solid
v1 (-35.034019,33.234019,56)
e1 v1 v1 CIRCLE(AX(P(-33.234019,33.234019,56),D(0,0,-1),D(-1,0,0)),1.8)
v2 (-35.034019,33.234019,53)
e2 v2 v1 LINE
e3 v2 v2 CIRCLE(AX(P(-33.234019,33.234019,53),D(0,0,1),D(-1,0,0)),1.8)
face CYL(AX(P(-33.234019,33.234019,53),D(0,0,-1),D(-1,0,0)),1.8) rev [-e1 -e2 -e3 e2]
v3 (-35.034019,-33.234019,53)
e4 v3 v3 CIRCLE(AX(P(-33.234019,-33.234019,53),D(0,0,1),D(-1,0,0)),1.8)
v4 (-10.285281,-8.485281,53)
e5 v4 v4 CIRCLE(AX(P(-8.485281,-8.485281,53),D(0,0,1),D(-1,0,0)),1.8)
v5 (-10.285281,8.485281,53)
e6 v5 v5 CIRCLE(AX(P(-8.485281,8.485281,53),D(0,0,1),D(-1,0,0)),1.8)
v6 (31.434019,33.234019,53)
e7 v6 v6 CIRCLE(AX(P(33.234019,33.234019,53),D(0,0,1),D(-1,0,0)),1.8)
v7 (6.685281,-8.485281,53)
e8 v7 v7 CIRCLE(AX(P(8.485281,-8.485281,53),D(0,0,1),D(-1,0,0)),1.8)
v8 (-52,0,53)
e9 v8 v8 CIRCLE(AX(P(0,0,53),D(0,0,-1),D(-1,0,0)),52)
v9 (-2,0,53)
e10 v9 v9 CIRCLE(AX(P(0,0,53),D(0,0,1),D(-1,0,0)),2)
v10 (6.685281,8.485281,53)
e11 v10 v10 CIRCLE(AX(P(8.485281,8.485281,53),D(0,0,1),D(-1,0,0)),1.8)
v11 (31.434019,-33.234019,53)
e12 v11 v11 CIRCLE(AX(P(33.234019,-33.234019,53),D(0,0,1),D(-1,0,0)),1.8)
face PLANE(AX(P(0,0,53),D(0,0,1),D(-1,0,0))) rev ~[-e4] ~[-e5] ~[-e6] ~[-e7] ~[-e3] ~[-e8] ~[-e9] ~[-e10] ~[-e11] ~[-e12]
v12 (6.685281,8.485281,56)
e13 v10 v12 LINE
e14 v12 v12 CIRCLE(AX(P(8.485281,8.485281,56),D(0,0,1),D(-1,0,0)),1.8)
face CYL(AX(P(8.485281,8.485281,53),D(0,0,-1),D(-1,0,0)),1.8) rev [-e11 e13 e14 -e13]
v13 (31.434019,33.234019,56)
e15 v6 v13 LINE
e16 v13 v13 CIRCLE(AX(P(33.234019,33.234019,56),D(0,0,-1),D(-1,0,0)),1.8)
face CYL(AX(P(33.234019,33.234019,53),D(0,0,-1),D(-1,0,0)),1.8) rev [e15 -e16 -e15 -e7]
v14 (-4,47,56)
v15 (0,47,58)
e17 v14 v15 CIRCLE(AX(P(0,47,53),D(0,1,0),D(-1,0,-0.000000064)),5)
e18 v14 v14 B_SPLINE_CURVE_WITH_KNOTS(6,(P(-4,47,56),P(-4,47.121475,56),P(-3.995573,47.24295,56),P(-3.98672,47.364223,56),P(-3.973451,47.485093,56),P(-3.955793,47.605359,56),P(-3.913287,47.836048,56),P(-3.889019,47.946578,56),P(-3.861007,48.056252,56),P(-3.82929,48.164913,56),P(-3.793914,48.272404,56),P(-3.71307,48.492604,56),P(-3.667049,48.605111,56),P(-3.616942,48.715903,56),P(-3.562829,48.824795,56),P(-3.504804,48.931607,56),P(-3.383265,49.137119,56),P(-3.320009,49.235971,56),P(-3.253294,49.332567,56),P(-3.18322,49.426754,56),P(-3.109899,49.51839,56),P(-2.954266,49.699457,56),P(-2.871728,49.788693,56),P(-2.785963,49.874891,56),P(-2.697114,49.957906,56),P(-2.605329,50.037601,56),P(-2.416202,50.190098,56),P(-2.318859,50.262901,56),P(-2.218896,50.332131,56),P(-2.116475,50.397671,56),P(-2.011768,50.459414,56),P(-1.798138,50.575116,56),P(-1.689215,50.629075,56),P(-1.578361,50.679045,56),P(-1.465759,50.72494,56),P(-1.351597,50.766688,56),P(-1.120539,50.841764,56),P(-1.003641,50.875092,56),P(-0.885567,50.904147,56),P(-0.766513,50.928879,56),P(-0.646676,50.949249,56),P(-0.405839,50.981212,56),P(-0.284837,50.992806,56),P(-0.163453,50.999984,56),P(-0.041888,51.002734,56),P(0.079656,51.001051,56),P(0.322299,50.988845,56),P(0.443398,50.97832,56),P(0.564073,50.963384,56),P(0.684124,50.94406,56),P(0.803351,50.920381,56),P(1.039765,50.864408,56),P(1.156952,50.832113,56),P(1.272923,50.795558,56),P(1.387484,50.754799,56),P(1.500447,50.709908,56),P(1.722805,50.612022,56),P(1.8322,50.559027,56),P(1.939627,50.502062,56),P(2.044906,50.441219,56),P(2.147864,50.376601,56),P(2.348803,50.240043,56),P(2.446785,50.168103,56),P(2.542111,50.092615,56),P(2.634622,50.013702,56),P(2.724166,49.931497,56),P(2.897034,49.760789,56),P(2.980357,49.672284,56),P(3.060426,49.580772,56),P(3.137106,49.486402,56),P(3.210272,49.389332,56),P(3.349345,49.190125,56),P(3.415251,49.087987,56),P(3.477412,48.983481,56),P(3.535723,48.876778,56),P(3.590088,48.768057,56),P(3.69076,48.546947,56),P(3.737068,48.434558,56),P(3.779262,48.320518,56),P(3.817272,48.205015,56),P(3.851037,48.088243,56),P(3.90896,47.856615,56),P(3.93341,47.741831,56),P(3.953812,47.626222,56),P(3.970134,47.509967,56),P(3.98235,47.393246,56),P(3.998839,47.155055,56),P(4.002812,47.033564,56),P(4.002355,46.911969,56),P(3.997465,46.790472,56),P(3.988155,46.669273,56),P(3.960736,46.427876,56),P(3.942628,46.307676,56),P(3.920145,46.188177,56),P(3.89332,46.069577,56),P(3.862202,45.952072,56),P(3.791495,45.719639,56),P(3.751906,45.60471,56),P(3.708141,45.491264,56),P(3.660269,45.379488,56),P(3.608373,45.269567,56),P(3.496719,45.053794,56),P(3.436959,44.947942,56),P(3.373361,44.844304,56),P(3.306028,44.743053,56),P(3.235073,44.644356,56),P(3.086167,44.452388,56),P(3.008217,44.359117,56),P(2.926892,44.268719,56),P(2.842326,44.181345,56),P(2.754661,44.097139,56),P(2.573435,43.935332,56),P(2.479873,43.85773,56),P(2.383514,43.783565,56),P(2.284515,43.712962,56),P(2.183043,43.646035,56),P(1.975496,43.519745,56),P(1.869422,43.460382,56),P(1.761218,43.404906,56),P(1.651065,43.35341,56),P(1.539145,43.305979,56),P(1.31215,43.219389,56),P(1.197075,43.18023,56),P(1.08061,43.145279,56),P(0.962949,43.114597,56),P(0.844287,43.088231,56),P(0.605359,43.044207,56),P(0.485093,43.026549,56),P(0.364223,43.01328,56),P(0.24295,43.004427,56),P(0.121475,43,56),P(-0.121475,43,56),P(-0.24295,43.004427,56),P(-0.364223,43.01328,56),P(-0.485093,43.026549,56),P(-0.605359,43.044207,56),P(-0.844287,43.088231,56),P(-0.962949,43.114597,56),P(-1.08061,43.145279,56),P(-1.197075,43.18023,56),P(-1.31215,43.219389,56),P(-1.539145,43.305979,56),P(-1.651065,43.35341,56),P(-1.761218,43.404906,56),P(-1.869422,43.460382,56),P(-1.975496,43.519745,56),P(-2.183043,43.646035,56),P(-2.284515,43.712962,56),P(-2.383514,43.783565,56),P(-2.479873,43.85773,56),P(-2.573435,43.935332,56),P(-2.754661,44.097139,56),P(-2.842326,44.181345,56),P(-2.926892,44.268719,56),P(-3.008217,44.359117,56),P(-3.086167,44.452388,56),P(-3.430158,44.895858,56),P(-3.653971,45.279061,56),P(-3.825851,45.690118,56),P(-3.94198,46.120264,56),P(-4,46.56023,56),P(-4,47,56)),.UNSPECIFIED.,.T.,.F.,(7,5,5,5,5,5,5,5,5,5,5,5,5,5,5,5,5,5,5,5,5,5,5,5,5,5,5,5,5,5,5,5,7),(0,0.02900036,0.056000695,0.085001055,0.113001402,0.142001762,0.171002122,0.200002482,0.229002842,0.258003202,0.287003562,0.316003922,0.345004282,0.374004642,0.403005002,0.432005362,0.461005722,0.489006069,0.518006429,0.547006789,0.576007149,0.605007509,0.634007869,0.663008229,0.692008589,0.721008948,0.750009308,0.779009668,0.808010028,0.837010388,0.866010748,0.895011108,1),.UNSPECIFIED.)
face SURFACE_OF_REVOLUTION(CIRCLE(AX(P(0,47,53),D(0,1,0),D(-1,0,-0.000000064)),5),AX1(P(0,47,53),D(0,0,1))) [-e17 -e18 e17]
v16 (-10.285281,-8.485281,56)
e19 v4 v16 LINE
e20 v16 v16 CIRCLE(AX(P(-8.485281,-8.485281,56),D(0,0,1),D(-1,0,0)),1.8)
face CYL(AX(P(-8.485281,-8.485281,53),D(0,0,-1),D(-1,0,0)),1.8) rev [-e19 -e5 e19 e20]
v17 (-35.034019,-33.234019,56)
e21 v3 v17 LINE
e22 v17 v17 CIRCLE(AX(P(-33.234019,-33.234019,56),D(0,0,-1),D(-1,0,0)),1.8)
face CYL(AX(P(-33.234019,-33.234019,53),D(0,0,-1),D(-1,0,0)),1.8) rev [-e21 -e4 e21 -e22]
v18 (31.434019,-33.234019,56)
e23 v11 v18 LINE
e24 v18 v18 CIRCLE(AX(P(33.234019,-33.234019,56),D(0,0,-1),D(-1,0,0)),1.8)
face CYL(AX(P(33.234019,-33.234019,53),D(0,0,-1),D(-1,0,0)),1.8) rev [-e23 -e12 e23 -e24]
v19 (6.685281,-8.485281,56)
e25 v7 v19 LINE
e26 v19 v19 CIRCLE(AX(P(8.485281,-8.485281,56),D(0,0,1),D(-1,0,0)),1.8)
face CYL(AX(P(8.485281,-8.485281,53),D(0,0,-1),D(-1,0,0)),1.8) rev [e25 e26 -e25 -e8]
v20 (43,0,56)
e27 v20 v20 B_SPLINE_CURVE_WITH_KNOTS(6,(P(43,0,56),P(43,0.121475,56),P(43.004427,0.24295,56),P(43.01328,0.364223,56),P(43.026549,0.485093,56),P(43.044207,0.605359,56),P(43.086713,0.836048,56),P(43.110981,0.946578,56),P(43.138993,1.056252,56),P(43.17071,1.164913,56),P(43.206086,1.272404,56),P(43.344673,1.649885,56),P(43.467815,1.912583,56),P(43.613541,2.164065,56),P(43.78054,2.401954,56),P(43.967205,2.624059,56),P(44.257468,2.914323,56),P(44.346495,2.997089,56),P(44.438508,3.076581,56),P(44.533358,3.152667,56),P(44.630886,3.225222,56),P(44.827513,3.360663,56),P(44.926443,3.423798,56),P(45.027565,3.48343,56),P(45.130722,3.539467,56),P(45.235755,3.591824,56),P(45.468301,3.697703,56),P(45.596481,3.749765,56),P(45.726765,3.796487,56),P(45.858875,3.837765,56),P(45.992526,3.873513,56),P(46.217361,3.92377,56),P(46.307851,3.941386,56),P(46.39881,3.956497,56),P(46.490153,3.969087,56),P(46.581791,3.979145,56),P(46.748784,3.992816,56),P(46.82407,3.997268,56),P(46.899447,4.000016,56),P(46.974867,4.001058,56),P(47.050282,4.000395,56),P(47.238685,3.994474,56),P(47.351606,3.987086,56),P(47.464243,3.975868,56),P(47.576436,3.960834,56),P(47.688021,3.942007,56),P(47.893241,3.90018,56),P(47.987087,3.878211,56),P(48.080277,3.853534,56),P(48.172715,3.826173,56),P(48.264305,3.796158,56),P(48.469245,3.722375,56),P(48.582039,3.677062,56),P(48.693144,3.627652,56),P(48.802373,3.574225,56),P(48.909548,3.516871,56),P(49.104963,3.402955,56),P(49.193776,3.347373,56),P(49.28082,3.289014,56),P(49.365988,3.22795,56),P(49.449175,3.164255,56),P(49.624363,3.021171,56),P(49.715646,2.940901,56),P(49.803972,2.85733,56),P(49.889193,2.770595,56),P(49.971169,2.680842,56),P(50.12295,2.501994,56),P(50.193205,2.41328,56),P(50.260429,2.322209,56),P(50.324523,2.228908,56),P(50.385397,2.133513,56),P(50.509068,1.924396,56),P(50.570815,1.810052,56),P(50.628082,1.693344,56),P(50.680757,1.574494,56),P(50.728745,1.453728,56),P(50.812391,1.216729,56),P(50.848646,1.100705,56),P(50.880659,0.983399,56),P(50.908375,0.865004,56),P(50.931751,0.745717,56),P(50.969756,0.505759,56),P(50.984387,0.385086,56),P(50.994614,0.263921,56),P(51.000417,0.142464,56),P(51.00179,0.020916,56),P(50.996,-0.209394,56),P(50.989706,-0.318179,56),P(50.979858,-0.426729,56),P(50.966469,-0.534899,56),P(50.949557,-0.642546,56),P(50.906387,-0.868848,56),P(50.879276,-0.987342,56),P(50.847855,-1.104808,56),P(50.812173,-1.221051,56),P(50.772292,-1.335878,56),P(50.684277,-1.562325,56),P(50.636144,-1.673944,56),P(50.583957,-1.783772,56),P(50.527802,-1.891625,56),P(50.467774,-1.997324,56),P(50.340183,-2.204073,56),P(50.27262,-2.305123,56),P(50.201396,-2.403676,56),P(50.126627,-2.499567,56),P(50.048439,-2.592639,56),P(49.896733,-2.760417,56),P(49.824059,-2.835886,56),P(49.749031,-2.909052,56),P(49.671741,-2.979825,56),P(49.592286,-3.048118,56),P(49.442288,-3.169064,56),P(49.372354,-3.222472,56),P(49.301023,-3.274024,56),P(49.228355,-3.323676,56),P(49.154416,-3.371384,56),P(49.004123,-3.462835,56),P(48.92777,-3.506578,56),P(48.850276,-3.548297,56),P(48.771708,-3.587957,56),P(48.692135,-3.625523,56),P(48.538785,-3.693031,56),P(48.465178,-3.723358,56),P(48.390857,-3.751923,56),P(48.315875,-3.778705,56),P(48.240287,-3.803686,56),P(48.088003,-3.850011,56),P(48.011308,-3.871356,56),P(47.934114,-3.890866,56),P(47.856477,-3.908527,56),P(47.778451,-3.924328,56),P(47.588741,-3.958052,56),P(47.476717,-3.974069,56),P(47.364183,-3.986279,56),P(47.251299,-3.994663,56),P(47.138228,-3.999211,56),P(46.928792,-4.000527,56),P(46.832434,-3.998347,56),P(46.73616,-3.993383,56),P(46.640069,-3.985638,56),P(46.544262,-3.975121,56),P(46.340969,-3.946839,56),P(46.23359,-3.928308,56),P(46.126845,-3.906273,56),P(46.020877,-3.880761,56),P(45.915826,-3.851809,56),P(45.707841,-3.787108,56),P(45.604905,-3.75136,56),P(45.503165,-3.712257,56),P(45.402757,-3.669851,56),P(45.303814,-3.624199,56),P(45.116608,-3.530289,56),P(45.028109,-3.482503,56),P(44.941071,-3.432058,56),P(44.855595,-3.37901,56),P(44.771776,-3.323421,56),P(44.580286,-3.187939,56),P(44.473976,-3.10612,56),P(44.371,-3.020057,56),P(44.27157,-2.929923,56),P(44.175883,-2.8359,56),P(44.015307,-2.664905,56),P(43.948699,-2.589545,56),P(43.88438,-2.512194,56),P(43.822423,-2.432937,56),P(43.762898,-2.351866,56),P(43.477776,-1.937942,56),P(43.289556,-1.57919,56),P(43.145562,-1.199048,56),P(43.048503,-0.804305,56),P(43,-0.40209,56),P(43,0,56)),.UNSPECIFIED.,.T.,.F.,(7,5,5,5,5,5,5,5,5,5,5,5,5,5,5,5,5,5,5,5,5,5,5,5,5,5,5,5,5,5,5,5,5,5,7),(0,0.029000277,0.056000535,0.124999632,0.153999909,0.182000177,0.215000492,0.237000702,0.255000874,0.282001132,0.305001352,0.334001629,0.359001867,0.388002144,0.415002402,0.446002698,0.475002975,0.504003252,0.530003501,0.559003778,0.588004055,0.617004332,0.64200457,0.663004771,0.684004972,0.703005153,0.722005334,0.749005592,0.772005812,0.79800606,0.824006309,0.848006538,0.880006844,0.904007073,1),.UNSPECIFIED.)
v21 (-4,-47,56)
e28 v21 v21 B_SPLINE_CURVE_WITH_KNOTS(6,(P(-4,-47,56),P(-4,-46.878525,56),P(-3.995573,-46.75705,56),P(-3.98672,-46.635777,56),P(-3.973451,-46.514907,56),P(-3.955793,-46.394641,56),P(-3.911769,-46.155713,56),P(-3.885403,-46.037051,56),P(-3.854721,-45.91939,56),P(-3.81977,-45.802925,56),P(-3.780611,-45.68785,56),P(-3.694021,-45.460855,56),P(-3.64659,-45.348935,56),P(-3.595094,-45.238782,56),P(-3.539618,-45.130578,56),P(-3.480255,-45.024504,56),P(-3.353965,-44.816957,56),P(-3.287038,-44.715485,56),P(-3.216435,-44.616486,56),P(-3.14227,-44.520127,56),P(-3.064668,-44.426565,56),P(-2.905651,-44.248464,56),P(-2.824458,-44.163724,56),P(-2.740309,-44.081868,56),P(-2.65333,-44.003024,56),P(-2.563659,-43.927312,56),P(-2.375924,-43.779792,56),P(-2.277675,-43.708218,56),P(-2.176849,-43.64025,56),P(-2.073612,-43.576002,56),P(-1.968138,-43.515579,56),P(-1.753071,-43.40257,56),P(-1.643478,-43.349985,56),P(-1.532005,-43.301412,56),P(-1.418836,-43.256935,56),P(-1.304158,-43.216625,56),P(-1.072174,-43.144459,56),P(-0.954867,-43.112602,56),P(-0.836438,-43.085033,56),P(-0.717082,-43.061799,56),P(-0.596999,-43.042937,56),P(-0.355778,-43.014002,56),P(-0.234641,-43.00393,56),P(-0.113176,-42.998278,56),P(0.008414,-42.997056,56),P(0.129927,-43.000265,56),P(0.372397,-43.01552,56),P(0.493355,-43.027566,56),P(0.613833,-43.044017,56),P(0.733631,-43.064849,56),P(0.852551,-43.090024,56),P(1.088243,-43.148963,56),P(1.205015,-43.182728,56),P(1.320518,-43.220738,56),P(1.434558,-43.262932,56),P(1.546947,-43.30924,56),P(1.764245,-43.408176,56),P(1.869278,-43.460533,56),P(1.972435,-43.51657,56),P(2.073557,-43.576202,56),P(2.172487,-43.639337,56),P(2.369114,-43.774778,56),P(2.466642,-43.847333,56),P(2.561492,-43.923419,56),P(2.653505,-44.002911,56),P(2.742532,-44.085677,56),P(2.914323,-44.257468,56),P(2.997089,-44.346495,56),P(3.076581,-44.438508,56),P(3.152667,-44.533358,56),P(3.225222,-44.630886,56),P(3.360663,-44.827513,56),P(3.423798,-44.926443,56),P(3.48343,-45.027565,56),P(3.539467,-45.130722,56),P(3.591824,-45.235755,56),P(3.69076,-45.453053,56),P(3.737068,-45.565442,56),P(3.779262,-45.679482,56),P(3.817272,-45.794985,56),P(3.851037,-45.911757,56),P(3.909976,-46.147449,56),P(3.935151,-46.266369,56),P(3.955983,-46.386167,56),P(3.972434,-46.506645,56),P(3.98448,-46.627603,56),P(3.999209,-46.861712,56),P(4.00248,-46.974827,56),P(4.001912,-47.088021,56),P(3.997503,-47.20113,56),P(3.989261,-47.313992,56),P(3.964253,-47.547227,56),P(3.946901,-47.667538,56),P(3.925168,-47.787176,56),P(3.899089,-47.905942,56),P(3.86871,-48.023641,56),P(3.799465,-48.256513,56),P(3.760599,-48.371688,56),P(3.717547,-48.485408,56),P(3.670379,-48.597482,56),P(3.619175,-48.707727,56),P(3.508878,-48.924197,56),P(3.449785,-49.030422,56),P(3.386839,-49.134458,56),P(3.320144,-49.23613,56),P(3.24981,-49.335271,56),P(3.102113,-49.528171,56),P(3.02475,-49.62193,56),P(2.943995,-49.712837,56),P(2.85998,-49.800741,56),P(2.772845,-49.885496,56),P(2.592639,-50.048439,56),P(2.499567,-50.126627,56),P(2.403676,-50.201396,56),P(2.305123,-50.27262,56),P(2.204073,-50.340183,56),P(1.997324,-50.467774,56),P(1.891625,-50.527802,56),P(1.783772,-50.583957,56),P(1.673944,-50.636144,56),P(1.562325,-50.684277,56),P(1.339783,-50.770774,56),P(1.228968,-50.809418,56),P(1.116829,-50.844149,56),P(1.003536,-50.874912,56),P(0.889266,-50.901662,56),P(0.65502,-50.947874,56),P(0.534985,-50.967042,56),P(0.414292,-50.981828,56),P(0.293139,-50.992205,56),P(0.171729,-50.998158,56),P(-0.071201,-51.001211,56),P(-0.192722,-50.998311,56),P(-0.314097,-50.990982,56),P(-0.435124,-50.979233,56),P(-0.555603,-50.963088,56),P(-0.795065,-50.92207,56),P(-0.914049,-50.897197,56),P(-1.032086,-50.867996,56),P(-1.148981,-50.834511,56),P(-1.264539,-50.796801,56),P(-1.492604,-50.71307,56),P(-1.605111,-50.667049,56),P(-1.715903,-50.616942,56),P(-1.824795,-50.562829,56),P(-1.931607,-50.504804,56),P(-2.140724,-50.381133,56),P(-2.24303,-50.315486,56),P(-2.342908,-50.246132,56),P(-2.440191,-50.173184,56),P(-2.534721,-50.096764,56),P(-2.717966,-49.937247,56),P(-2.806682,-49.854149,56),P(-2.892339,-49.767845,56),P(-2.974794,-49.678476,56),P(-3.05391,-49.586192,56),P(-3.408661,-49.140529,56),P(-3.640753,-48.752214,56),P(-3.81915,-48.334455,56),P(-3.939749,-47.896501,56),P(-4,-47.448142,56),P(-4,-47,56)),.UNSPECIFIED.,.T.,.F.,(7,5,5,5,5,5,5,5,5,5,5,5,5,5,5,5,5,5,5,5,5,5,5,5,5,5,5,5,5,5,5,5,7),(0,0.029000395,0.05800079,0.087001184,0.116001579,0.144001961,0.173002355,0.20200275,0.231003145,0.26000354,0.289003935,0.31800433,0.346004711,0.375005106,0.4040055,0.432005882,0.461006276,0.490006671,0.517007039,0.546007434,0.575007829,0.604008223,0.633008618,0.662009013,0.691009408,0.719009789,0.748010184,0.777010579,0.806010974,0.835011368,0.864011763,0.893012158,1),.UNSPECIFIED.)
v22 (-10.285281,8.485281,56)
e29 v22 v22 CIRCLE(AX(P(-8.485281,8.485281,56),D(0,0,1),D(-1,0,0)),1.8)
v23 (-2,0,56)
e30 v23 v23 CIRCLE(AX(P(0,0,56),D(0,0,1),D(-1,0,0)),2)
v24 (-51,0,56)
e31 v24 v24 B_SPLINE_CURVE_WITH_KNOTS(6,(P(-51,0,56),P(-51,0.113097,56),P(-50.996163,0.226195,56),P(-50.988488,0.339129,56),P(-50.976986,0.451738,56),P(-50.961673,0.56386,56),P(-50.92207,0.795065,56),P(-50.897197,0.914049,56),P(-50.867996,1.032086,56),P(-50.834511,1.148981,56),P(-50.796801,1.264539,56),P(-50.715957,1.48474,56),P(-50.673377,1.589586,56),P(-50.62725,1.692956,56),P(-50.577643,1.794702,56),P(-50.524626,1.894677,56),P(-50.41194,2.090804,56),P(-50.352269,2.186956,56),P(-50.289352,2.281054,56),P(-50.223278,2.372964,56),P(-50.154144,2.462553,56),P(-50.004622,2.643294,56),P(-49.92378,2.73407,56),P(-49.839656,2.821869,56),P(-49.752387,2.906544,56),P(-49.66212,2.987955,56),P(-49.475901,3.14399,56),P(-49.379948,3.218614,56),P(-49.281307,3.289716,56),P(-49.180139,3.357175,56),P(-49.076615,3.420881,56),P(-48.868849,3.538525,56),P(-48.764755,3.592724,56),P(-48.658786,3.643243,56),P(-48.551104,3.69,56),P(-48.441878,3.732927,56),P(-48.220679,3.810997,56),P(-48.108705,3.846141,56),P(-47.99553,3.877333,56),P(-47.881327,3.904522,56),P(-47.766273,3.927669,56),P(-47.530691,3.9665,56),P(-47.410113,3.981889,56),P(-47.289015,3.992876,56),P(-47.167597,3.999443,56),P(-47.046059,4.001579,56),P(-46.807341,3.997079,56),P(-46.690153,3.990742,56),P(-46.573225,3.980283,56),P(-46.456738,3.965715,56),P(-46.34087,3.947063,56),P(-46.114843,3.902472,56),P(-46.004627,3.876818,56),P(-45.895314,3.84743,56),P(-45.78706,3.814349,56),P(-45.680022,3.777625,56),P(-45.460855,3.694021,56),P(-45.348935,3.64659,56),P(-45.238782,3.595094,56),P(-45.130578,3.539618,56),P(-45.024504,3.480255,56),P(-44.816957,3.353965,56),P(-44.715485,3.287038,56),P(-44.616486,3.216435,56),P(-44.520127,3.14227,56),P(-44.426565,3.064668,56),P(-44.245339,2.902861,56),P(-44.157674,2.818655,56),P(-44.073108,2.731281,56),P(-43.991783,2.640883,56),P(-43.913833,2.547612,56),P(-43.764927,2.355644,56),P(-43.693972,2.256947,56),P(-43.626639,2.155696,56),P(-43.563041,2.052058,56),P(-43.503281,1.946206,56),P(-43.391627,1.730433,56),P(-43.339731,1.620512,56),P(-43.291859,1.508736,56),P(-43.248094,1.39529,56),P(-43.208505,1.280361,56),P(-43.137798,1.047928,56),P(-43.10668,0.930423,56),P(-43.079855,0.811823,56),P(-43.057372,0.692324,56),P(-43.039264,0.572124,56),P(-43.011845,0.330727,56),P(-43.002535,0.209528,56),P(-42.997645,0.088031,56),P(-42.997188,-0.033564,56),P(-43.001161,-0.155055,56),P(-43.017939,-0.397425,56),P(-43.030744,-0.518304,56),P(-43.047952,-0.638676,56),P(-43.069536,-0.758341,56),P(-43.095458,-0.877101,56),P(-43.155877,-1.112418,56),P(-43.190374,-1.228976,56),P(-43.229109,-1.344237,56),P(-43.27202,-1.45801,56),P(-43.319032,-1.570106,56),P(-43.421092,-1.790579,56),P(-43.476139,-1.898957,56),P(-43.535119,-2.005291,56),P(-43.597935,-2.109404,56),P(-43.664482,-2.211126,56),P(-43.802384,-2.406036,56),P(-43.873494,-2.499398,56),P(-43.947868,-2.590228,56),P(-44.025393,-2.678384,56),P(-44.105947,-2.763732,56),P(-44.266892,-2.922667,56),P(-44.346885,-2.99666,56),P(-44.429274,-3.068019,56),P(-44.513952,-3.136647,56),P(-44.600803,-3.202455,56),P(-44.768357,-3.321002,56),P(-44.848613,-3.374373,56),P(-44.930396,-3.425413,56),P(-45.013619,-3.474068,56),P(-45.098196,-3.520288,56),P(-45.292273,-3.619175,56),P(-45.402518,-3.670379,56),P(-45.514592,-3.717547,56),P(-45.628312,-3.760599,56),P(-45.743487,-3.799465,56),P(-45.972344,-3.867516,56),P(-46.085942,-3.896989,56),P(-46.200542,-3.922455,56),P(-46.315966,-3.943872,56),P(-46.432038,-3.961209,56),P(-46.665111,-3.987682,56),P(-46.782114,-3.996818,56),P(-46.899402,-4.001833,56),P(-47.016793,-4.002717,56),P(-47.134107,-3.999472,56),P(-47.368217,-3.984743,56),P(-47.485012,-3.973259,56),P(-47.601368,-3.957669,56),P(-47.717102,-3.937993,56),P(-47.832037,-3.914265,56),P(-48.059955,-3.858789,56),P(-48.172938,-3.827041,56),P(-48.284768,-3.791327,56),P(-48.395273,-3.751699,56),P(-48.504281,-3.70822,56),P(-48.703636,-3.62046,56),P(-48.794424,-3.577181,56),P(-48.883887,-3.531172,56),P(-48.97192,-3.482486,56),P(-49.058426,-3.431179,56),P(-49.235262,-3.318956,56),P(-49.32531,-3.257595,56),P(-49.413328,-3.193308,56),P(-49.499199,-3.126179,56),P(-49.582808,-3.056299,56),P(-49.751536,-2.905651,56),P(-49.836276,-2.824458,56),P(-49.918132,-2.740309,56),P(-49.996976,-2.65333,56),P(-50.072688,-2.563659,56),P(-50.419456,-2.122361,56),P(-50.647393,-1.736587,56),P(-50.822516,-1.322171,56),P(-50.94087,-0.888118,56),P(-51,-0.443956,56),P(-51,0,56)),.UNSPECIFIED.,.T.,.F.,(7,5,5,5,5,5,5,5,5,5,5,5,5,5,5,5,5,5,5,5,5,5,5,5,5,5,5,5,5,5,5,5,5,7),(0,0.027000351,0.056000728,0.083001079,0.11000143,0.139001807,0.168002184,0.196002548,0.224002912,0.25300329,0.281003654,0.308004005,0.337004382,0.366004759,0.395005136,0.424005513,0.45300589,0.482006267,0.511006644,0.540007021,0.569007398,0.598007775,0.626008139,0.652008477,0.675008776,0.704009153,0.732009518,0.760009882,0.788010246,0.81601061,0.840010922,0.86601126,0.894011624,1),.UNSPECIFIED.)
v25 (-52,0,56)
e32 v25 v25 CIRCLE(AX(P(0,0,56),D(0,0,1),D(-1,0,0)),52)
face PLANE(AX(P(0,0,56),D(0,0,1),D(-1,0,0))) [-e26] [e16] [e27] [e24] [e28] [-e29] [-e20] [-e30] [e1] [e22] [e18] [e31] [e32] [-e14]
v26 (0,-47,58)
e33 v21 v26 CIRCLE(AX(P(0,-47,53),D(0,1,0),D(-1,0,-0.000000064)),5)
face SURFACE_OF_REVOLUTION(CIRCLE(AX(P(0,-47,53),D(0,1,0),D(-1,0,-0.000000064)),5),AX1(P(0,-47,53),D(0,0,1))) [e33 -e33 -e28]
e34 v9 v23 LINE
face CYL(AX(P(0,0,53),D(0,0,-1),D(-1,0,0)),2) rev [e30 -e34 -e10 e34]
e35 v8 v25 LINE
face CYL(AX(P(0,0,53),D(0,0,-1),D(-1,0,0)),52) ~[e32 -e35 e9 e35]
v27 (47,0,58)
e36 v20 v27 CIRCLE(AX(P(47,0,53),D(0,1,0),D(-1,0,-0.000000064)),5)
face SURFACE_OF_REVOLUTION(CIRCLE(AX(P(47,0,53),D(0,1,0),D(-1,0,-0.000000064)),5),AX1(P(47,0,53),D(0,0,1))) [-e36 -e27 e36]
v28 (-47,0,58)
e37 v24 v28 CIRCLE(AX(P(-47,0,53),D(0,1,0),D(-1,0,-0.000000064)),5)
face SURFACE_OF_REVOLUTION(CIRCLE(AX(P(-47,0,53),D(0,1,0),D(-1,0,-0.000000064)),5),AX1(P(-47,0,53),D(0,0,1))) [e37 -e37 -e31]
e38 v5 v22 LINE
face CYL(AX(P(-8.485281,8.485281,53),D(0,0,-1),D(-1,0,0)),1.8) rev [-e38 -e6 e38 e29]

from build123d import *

# Parameters (mm, degrees)
SKETCH004_R             = 52
SKETCH004_R_2           = 2
SKETCH004_R_3           = 1.8
PAD003_DEPTH            = 3
SKETCH006_R             = 1.8
POCKET001_DEPTH         = 0.001
POCKET001_DEPTH_BACK    = 3.001
BODY002_PLACEMENT_ANGLE = 180


with BuildPart() as part:
    # Sketch004 → Pad003 (new body)
    with BuildSketch(Plane.XY):
        Circle(SKETCH004_R)
        Circle(SKETCH004_R_2, mode=Mode.SUBTRACT)
        with Locations((8.485281, 8.485281)):
            Circle(SKETCH004_R_3, mode=Mode.SUBTRACT)
        with Locations((-8.485281, 8.485281)):
            Circle(SKETCH004_R_3, mode=Mode.SUBTRACT)
        with Locations((-8.485281, -8.485281)):
            Circle(SKETCH004_R_3, mode=Mode.SUBTRACT)
        with Locations((8.485281, -8.485281)):
            Circle(SKETCH004_R_3, mode=Mode.SUBTRACT)
    extrude(amount=PAD003_DEPTH)

    # Sketch006 → Pocket001 (cut, two sides)
    with BuildSketch(Plane.XY) as pocket001_sk:
        with Locations((-33.234019, 33.234019)):
            Circle(SKETCH006_R)
        with Locations((-33.234019, -33.234019)):
            Circle(SKETCH006_R)
        with Locations((33.234019, -33.234019)):
            Circle(SKETCH006_R)
        with Locations((33.234019, 33.234019)):
            Circle(SKETCH006_R)
    extrude(amount=-POCKET001_DEPTH, mode=Mode.SUBTRACT)
    extrude(pocket001_sk.sketch, amount=POCKET001_DEPTH_BACK, mode=Mode.SUBTRACT)

    # Sphere → Sphere (revolve)
    with BuildSketch(Plane.XZ.offset(-47)):
        with BuildLine():
            ThreePointArc((5, 0), (3.535534, 3.535534), (0, 5))
            Line((0, 5), (0, 0))
            Line((0, 0), (5, 0))
        make_face()
    revolve(axis=Axis((0, 47, 0), (0, 0, 1)))

    # Sphere001 → Sphere001 (revolve)
    with BuildSketch(Plane.XZ.offset(47)):
        with BuildLine():
            ThreePointArc((5, 0), (3.535534, 3.535534), (0, 5))
            Line((0, 5), (0, 0))
            Line((0, 0), (5, 0))
        make_face()
    revolve(axis=Axis((0, -47, 0), (0, 0, 1)))

    # Sphere002 → Sphere002 (revolve)
    with BuildSketch(Plane(origin=(47, 0, 0), x_dir=(1, 0, 0), z_dir=(0, -1, 0))):
        with BuildLine():
            ThreePointArc((5, 0), (3.535534, 3.535534), (0, 5))
            Line((0, 5), (0, 0))
            Line((0, 0), (5, 0))
        make_face()
    revolve(axis=Axis((47, 0, 0), (0, 0, 1)))

    # Sphere003 → Sphere003 (revolve)
    with BuildSketch(Plane(origin=(-47, 0, 0), x_dir=(1, 0, 0), z_dir=(0, -1, 0))):
        with BuildLine():
            ThreePointArc((5, 0), (3.535534, 3.535534), (0, 5))
            Line((0, 5), (0, 0))
            Line((0, 0), (5, 0))
        make_face()
    revolve(axis=Axis((-47, 0, 0), (0, 0, 1)))


with BuildPart() as part_1:
    # Body002 placement: moved
    add(part.part.moved(Location((0, 0, 53))).rotate(Axis((0, 0, 53), (0, 0, -1)), BODY002_PLACEMENT_ANGLE))


solid = part_1.part
